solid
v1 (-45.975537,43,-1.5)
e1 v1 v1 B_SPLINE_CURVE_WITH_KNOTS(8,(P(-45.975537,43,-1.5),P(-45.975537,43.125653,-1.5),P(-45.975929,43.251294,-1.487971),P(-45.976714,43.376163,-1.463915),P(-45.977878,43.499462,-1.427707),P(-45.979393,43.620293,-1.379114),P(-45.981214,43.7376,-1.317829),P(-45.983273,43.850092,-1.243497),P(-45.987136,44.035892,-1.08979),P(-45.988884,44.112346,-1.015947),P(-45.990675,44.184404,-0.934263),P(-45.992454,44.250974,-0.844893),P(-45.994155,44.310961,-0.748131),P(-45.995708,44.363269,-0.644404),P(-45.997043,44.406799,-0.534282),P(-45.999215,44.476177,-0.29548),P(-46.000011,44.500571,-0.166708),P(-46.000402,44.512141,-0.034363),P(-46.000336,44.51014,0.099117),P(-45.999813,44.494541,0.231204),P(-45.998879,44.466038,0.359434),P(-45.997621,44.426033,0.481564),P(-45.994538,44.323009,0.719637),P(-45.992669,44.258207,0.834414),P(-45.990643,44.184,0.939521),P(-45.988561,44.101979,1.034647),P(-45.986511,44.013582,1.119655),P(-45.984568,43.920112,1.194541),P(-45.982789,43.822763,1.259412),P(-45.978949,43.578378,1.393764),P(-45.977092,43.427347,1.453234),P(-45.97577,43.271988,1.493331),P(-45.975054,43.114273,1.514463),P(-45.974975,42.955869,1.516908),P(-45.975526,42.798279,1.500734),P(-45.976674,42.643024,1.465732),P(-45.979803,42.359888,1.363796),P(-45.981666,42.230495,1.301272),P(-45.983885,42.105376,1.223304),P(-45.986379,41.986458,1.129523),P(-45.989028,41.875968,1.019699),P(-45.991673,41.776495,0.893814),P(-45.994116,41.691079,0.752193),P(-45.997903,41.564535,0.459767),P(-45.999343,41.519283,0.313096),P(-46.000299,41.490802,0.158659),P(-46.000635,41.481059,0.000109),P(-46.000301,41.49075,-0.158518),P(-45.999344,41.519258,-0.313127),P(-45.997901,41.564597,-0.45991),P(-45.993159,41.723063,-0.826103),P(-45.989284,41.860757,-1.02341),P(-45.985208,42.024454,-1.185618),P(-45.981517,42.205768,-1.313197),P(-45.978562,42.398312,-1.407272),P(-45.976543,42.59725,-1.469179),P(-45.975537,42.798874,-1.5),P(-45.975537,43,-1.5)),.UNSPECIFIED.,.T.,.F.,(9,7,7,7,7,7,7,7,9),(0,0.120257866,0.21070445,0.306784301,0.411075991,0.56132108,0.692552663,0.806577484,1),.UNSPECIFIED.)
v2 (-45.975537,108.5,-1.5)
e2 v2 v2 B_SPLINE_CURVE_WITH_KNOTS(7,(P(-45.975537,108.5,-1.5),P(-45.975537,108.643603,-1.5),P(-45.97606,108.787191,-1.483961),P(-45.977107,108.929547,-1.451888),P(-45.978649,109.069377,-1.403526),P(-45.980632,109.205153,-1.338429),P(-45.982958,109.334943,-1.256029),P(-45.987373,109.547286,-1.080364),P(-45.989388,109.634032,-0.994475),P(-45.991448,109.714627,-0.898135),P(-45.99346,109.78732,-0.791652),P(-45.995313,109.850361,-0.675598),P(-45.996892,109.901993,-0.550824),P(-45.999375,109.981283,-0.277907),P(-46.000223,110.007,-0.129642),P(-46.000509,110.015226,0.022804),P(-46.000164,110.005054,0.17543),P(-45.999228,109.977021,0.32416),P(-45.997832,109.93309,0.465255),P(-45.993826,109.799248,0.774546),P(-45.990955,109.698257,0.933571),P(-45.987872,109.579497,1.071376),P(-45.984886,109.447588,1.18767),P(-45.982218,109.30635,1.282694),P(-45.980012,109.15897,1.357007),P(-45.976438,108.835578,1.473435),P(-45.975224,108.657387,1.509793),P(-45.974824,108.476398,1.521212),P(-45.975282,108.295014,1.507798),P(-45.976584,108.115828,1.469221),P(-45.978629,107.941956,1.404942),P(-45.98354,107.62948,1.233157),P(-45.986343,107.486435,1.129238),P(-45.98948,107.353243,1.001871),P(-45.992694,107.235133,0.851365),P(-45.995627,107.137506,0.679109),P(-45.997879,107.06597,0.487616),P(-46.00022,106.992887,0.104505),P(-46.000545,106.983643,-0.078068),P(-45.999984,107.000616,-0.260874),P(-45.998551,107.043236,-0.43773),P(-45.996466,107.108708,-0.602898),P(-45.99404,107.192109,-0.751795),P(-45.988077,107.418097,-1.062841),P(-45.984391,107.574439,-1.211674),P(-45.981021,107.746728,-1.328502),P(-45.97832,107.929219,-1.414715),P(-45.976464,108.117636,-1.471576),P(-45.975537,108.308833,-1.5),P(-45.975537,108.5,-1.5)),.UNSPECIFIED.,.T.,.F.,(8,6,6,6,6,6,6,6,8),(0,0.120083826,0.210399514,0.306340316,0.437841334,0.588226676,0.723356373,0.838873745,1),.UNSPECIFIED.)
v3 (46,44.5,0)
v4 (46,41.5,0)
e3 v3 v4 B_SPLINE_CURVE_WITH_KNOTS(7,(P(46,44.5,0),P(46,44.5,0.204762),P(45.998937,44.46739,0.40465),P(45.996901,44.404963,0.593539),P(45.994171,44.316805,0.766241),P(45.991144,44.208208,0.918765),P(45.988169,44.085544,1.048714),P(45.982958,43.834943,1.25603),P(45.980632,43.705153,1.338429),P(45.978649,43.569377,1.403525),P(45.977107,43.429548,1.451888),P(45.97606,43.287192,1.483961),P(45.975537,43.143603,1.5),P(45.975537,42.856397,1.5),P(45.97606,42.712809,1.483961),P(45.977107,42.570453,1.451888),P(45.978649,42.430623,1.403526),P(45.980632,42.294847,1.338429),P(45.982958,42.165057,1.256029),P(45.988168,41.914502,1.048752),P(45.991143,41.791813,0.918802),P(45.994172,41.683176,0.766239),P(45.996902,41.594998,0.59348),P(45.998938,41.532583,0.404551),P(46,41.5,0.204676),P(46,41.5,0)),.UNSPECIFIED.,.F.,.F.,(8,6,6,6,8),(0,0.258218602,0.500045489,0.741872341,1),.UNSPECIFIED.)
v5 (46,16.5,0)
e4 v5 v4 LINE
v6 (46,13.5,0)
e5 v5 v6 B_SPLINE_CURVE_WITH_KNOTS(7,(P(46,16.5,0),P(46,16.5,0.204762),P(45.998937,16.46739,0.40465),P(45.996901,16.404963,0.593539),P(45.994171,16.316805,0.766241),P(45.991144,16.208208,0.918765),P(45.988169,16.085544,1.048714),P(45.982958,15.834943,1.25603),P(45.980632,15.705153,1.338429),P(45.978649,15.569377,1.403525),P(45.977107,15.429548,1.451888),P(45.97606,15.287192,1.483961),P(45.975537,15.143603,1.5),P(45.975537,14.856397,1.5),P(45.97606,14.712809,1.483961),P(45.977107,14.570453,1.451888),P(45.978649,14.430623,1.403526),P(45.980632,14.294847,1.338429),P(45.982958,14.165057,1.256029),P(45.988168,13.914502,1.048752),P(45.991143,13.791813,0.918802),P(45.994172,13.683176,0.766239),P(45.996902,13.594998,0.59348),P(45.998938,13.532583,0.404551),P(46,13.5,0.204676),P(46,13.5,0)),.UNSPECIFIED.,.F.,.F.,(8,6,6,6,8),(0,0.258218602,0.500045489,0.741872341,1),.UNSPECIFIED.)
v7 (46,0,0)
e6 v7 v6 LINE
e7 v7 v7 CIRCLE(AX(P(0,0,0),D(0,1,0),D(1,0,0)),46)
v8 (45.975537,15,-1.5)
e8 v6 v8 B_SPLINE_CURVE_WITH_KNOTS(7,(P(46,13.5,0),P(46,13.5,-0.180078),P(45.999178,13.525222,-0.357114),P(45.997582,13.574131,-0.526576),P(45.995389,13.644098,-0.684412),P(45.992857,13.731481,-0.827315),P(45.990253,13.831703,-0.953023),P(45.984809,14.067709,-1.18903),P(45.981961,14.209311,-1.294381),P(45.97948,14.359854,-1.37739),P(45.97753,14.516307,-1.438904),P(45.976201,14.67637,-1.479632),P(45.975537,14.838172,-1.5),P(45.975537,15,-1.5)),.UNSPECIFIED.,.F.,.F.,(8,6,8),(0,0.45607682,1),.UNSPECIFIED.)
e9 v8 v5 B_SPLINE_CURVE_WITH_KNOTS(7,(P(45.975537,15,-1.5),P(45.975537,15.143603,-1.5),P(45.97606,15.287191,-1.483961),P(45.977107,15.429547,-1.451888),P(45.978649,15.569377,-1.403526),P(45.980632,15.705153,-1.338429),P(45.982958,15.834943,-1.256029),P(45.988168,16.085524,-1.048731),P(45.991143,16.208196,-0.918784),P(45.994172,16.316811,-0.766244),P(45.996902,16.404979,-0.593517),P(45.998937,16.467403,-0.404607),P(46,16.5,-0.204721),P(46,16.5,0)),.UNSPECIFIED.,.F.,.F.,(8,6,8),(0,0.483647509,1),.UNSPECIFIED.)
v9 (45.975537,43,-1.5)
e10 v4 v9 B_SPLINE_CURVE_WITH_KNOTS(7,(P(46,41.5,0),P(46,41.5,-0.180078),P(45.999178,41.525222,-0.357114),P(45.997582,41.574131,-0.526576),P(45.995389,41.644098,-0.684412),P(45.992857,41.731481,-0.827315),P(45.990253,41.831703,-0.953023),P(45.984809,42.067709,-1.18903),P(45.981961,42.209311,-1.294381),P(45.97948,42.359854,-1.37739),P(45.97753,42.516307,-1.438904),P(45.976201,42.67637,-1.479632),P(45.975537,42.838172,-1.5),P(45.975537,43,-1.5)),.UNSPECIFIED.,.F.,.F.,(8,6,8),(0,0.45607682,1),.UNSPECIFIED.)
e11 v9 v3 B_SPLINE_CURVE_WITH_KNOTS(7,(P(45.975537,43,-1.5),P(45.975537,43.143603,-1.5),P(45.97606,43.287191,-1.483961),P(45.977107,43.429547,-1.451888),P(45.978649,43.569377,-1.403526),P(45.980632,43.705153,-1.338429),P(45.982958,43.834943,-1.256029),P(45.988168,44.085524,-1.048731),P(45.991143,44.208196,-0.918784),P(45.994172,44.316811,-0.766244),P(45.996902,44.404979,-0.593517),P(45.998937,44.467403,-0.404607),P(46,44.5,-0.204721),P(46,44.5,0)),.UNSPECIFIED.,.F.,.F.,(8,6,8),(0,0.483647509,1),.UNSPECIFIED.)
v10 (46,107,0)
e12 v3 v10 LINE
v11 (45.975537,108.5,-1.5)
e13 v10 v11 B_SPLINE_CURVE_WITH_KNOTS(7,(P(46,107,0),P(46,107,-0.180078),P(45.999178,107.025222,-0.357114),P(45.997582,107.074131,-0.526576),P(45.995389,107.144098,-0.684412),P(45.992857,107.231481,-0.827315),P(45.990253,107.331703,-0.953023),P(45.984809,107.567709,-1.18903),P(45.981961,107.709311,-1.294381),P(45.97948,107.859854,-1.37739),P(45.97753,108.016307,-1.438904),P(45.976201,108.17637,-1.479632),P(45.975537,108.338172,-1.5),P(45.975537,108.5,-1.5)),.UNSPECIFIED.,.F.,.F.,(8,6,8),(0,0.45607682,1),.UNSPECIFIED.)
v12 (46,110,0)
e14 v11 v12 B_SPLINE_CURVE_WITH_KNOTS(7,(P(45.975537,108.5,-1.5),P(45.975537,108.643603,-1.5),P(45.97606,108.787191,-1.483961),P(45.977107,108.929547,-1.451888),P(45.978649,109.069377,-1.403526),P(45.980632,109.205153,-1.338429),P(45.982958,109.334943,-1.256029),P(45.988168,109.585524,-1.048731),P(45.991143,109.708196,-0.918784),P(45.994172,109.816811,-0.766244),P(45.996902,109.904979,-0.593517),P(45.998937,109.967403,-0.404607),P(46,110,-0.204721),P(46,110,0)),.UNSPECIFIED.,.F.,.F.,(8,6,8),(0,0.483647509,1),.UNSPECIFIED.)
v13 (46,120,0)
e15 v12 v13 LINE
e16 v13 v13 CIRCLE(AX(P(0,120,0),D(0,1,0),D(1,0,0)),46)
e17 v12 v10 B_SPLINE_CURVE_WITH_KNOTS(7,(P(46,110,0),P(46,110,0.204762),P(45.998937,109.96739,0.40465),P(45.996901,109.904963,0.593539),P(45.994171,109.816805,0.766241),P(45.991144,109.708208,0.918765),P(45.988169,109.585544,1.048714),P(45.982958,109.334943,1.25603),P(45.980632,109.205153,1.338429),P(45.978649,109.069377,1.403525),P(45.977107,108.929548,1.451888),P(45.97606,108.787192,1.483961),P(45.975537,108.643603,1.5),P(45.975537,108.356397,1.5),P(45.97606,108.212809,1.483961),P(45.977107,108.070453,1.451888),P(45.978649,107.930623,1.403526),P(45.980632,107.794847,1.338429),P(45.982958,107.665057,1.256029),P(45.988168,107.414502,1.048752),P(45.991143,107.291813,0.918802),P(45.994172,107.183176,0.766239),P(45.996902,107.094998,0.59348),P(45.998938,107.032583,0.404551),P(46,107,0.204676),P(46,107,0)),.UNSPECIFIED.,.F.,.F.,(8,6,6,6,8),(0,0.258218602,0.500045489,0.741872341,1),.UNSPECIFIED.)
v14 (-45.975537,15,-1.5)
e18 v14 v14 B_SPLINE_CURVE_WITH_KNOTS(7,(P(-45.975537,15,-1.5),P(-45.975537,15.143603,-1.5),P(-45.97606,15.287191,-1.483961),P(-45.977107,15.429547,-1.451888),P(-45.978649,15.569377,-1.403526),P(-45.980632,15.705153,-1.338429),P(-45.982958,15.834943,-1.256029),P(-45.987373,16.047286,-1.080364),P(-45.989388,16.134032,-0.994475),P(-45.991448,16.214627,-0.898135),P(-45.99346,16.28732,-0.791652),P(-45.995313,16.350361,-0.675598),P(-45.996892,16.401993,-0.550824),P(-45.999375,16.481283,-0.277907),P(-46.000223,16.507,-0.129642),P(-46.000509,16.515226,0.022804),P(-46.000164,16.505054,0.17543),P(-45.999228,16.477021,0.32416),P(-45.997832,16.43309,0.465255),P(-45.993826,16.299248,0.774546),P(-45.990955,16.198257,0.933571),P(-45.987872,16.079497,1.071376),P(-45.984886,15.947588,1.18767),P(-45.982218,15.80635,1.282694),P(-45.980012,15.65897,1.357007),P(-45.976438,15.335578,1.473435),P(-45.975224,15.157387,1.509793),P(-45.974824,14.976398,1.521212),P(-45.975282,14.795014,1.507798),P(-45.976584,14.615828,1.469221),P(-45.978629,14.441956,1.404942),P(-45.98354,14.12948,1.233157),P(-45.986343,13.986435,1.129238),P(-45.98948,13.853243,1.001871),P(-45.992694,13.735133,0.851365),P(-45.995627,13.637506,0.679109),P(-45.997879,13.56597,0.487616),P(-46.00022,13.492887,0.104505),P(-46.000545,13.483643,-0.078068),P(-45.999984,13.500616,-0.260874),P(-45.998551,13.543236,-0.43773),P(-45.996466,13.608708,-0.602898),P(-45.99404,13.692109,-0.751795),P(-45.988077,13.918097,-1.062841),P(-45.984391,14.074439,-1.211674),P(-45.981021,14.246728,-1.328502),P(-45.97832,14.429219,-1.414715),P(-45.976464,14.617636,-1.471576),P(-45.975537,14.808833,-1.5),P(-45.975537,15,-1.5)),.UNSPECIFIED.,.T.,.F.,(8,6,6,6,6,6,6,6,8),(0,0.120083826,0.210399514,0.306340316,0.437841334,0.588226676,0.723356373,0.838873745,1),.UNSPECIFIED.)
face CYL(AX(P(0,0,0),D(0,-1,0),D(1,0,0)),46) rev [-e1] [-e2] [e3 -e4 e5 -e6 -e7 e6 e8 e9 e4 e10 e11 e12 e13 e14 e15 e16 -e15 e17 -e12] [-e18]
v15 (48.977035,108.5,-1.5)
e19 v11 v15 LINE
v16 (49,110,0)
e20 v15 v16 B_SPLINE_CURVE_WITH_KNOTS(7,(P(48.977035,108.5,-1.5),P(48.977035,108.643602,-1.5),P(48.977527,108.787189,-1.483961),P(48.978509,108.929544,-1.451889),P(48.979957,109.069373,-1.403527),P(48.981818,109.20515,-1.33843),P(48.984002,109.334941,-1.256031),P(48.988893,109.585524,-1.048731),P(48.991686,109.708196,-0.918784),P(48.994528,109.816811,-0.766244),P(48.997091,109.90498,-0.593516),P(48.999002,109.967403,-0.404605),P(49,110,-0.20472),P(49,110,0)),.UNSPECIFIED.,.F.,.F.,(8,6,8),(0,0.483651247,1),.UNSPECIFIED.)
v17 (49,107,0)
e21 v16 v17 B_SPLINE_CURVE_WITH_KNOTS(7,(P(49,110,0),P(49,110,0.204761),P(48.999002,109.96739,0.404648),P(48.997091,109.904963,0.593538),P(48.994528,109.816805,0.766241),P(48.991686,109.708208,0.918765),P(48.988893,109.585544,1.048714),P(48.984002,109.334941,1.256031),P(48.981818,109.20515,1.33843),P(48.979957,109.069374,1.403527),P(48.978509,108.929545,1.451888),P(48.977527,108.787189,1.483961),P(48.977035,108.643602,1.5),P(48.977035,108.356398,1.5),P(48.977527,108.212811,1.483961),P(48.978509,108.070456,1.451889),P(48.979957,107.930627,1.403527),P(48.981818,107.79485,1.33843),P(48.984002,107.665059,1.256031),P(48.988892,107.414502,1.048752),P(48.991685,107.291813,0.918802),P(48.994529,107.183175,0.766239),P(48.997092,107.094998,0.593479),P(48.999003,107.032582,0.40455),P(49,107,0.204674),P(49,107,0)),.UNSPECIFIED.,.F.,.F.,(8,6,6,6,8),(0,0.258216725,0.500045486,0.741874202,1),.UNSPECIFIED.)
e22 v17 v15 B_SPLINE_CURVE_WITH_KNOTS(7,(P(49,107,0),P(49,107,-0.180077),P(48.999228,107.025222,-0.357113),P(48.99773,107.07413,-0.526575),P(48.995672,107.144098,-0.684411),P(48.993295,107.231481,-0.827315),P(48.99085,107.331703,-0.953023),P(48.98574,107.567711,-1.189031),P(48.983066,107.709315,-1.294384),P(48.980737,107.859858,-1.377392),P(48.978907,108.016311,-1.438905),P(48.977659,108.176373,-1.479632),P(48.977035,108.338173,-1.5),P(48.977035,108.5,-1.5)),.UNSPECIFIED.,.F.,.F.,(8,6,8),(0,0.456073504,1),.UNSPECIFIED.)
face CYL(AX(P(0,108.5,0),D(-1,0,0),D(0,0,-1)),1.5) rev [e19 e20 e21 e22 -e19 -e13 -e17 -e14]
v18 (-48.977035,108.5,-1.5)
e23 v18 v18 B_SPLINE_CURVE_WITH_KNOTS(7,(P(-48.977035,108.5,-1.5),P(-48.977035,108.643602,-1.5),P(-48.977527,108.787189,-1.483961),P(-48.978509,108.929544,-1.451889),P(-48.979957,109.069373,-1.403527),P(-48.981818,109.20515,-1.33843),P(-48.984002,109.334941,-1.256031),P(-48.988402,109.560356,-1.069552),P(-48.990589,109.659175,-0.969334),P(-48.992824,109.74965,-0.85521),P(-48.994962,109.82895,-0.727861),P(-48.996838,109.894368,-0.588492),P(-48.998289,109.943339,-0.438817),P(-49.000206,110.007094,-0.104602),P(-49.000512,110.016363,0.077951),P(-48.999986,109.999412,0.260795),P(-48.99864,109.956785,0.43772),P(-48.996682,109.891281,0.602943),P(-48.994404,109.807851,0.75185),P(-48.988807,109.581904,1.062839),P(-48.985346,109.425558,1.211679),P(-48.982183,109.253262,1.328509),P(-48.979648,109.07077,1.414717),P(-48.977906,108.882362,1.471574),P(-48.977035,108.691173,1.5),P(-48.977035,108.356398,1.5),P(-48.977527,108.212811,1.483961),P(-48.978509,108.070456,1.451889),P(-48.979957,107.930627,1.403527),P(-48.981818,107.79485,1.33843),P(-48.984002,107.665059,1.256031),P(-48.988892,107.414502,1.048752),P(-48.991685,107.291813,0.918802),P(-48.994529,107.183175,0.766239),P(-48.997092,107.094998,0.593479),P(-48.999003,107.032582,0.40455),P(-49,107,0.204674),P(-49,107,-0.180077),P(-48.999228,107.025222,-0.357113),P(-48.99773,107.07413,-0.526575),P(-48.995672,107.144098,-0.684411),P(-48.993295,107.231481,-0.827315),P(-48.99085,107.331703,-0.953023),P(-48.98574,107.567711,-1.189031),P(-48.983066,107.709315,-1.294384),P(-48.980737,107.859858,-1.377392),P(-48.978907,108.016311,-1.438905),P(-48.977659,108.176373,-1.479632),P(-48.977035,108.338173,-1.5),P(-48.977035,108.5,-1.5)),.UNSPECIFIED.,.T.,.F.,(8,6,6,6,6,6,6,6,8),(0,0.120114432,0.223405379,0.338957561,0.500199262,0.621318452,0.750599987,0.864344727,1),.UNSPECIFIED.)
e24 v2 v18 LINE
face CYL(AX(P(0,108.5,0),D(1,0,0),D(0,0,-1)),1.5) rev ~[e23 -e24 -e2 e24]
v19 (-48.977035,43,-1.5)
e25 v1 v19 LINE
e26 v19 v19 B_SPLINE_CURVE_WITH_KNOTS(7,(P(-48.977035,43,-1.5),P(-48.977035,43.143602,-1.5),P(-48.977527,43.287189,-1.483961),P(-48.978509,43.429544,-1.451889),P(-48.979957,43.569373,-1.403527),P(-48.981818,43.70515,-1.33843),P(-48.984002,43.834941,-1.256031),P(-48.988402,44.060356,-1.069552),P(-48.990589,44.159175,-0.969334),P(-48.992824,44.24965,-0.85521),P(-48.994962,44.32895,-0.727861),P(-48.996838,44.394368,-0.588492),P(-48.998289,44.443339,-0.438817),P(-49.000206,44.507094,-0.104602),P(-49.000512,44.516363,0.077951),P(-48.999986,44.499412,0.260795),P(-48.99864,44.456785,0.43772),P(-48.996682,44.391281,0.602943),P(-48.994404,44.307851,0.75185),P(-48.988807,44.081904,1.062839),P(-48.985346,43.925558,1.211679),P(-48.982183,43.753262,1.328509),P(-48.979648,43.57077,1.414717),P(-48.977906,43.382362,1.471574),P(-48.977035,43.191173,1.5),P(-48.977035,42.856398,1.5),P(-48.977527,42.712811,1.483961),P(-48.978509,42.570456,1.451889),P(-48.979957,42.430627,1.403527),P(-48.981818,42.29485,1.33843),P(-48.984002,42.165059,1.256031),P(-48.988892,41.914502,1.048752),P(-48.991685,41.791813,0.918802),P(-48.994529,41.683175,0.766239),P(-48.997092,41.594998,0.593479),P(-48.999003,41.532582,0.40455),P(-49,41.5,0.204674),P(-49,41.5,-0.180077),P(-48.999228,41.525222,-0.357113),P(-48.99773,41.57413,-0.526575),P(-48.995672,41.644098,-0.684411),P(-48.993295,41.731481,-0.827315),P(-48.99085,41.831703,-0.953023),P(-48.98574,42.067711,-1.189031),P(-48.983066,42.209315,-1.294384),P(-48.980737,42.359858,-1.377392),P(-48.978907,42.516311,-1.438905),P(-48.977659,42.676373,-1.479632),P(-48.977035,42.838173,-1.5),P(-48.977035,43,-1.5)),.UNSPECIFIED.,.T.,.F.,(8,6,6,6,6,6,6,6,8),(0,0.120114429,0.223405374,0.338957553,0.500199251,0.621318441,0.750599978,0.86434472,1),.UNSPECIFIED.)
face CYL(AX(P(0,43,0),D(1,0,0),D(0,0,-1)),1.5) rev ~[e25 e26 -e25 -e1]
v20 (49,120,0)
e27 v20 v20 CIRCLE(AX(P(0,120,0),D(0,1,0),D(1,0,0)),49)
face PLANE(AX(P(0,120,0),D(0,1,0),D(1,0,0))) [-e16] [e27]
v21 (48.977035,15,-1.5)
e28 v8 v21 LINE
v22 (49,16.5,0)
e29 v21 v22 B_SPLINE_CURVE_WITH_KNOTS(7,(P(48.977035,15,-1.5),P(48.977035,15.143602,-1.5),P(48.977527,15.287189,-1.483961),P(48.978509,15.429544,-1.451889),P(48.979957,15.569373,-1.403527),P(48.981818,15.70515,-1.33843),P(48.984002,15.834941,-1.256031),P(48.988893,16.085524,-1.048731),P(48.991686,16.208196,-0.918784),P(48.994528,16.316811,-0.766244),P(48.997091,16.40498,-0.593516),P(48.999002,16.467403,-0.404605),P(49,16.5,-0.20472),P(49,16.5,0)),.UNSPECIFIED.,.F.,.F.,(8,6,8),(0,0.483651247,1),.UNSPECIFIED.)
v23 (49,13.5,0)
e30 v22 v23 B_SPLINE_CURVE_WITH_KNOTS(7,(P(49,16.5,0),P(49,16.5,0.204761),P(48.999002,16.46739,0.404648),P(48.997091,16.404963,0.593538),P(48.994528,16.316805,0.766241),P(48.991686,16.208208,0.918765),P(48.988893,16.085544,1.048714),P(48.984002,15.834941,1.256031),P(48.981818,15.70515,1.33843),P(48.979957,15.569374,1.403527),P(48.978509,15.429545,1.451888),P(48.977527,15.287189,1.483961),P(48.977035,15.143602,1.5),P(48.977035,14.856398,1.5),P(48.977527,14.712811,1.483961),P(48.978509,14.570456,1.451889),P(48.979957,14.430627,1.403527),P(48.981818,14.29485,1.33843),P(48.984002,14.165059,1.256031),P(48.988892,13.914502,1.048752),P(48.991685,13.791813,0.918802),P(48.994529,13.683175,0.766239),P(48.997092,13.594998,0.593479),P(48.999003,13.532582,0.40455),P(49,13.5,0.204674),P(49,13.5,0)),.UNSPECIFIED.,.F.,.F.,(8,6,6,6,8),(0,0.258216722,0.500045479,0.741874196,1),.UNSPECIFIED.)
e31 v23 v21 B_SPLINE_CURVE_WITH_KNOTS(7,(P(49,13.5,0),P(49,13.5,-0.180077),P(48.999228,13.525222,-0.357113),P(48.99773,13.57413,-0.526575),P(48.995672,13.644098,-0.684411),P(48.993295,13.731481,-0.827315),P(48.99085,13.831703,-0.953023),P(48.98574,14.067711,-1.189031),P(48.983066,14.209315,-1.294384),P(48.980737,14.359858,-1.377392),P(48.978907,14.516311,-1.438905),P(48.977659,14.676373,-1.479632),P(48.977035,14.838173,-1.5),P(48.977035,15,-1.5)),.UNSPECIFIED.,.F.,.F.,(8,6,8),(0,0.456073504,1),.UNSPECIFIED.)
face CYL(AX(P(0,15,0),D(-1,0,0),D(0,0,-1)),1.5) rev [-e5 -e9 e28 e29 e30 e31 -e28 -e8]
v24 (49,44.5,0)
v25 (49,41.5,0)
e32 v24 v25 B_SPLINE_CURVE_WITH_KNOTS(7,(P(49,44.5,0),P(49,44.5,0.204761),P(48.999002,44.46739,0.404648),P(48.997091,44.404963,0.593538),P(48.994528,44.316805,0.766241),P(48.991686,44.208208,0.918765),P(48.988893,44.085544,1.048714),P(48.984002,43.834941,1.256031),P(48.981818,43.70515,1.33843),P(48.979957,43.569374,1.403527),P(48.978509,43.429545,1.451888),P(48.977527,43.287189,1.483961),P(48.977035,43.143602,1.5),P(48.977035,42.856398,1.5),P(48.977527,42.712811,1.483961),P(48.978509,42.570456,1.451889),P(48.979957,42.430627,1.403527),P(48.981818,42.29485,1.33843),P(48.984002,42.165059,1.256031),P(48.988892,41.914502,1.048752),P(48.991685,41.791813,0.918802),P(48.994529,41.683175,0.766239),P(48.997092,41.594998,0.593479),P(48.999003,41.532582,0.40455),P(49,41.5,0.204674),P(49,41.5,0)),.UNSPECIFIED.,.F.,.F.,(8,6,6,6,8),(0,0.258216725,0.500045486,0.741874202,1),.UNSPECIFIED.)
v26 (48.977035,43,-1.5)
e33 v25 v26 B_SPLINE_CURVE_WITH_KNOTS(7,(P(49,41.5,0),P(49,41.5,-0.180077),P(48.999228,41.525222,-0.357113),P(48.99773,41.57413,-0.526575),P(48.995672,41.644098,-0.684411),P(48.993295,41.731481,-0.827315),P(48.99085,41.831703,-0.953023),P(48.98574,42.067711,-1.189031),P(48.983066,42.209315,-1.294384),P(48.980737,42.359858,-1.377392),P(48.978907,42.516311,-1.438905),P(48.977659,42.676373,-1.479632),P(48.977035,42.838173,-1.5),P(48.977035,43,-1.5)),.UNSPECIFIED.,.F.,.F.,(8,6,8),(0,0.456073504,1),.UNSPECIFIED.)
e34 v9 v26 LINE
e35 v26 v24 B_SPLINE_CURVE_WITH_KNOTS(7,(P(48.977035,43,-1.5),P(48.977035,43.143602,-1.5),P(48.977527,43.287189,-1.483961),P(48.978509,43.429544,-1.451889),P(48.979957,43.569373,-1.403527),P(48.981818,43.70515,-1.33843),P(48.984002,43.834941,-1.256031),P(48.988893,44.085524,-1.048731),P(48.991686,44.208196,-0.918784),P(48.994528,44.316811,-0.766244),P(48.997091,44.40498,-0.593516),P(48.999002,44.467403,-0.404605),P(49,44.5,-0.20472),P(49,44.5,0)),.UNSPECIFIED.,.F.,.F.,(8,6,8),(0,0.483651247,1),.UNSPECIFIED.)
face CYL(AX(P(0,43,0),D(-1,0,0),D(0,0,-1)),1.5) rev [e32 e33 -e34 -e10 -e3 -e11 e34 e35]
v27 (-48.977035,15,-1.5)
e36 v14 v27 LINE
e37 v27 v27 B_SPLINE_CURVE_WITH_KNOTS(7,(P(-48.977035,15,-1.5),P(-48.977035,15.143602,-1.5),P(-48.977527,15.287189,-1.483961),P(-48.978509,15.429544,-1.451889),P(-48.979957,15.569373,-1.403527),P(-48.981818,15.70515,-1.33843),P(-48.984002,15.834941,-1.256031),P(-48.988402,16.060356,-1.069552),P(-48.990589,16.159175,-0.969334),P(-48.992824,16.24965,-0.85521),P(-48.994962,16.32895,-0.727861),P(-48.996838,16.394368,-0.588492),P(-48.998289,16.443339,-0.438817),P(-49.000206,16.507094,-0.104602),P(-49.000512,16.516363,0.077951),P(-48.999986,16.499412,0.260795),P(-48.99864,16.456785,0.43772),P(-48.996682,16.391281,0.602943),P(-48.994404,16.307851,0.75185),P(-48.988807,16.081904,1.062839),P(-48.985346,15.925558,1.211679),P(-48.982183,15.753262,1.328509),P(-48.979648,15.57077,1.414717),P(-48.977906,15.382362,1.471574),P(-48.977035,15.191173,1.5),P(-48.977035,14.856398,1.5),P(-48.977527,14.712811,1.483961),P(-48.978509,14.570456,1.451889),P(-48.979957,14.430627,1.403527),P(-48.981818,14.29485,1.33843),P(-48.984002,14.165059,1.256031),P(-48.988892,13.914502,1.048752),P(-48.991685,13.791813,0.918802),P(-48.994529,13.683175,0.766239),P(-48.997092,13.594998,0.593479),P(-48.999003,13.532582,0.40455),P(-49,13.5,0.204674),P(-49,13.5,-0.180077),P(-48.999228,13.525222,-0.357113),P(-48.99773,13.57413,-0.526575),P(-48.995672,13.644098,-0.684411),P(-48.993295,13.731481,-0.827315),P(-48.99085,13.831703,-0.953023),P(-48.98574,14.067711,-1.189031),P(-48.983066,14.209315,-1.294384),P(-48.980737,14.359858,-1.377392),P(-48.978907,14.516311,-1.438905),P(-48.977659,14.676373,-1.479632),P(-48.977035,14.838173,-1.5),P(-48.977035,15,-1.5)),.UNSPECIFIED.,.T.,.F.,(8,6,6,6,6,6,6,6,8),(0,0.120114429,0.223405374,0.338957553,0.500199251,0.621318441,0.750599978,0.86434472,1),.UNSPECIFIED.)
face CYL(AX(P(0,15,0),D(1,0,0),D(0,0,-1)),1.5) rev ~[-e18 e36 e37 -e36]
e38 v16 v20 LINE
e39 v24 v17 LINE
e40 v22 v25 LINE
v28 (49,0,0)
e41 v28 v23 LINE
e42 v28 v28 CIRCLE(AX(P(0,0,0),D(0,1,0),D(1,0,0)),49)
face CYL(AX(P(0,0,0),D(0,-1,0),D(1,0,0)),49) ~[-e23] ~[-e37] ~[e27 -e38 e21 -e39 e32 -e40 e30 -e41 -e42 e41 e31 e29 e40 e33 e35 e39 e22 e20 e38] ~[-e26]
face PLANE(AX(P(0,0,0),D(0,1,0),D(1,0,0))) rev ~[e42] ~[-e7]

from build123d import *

# Parameters (mm, degrees)
SKETCH2_R               = 49
SKETCH2_R_2             = 46
BOSS_EXTRUDE1_DEPTH     = 120
SKETCH5_R               = 1.5
CUT_EXTRUDE2_DEPTH      = 50
CUT_EXTRUDE2_DEPTH_BACK = 50
SKETCH6_R               = 1.5
CUT_EXTRUDE3_DEPTH      = 50.0000001
CUT_EXTRUDE3_DEPTH_BACK = 50.000000102


with BuildPart() as part:
    # Sketch2 → Boss-Extrude1 (new body)
    with BuildSketch(Plane(origin=(0, 0, 0), x_dir=(1, 0, 0), z_dir=(0, 1, 0))):
        Circle(SKETCH2_R)
        Circle(SKETCH2_R_2, mode=Mode.SUBTRACT)
    extrude(amount=BOSS_EXTRUDE1_DEPTH)

    # Sketch5 → Cut-Extrude2 (cut, two sides)
    with BuildSketch(Plane(origin=(0, 0, 0), x_dir=(0, 0, -1), z_dir=(1, 0, 0))) as cut_extrude2_sk:
        with Locations((0, 108.5)):
            Circle(SKETCH5_R)
    extrude(amount=CUT_EXTRUDE2_DEPTH, mode=Mode.SUBTRACT)
    extrude(cut_extrude2_sk.sketch, amount=-CUT_EXTRUDE2_DEPTH_BACK, mode=Mode.SUBTRACT)

    # Sketch6 → Cut-Extrude3 (cut, two sides)
    with BuildSketch(Plane(origin=(0, 0, 0), x_dir=(0, 0, -1), z_dir=(1, 0, 0))) as cut_extrude3_sk:
        with Locations((0, 15)):
            Circle(SKETCH6_R)
        with Locations((0, 43)):
            Circle(SKETCH6_R)
    extrude(amount=CUT_EXTRUDE3_DEPTH, mode=Mode.SUBTRACT)
    extrude(cut_extrude3_sk.sketch, amount=-CUT_EXTRUDE3_DEPTH_BACK, mode=Mode.SUBTRACT)


solid = part.part
